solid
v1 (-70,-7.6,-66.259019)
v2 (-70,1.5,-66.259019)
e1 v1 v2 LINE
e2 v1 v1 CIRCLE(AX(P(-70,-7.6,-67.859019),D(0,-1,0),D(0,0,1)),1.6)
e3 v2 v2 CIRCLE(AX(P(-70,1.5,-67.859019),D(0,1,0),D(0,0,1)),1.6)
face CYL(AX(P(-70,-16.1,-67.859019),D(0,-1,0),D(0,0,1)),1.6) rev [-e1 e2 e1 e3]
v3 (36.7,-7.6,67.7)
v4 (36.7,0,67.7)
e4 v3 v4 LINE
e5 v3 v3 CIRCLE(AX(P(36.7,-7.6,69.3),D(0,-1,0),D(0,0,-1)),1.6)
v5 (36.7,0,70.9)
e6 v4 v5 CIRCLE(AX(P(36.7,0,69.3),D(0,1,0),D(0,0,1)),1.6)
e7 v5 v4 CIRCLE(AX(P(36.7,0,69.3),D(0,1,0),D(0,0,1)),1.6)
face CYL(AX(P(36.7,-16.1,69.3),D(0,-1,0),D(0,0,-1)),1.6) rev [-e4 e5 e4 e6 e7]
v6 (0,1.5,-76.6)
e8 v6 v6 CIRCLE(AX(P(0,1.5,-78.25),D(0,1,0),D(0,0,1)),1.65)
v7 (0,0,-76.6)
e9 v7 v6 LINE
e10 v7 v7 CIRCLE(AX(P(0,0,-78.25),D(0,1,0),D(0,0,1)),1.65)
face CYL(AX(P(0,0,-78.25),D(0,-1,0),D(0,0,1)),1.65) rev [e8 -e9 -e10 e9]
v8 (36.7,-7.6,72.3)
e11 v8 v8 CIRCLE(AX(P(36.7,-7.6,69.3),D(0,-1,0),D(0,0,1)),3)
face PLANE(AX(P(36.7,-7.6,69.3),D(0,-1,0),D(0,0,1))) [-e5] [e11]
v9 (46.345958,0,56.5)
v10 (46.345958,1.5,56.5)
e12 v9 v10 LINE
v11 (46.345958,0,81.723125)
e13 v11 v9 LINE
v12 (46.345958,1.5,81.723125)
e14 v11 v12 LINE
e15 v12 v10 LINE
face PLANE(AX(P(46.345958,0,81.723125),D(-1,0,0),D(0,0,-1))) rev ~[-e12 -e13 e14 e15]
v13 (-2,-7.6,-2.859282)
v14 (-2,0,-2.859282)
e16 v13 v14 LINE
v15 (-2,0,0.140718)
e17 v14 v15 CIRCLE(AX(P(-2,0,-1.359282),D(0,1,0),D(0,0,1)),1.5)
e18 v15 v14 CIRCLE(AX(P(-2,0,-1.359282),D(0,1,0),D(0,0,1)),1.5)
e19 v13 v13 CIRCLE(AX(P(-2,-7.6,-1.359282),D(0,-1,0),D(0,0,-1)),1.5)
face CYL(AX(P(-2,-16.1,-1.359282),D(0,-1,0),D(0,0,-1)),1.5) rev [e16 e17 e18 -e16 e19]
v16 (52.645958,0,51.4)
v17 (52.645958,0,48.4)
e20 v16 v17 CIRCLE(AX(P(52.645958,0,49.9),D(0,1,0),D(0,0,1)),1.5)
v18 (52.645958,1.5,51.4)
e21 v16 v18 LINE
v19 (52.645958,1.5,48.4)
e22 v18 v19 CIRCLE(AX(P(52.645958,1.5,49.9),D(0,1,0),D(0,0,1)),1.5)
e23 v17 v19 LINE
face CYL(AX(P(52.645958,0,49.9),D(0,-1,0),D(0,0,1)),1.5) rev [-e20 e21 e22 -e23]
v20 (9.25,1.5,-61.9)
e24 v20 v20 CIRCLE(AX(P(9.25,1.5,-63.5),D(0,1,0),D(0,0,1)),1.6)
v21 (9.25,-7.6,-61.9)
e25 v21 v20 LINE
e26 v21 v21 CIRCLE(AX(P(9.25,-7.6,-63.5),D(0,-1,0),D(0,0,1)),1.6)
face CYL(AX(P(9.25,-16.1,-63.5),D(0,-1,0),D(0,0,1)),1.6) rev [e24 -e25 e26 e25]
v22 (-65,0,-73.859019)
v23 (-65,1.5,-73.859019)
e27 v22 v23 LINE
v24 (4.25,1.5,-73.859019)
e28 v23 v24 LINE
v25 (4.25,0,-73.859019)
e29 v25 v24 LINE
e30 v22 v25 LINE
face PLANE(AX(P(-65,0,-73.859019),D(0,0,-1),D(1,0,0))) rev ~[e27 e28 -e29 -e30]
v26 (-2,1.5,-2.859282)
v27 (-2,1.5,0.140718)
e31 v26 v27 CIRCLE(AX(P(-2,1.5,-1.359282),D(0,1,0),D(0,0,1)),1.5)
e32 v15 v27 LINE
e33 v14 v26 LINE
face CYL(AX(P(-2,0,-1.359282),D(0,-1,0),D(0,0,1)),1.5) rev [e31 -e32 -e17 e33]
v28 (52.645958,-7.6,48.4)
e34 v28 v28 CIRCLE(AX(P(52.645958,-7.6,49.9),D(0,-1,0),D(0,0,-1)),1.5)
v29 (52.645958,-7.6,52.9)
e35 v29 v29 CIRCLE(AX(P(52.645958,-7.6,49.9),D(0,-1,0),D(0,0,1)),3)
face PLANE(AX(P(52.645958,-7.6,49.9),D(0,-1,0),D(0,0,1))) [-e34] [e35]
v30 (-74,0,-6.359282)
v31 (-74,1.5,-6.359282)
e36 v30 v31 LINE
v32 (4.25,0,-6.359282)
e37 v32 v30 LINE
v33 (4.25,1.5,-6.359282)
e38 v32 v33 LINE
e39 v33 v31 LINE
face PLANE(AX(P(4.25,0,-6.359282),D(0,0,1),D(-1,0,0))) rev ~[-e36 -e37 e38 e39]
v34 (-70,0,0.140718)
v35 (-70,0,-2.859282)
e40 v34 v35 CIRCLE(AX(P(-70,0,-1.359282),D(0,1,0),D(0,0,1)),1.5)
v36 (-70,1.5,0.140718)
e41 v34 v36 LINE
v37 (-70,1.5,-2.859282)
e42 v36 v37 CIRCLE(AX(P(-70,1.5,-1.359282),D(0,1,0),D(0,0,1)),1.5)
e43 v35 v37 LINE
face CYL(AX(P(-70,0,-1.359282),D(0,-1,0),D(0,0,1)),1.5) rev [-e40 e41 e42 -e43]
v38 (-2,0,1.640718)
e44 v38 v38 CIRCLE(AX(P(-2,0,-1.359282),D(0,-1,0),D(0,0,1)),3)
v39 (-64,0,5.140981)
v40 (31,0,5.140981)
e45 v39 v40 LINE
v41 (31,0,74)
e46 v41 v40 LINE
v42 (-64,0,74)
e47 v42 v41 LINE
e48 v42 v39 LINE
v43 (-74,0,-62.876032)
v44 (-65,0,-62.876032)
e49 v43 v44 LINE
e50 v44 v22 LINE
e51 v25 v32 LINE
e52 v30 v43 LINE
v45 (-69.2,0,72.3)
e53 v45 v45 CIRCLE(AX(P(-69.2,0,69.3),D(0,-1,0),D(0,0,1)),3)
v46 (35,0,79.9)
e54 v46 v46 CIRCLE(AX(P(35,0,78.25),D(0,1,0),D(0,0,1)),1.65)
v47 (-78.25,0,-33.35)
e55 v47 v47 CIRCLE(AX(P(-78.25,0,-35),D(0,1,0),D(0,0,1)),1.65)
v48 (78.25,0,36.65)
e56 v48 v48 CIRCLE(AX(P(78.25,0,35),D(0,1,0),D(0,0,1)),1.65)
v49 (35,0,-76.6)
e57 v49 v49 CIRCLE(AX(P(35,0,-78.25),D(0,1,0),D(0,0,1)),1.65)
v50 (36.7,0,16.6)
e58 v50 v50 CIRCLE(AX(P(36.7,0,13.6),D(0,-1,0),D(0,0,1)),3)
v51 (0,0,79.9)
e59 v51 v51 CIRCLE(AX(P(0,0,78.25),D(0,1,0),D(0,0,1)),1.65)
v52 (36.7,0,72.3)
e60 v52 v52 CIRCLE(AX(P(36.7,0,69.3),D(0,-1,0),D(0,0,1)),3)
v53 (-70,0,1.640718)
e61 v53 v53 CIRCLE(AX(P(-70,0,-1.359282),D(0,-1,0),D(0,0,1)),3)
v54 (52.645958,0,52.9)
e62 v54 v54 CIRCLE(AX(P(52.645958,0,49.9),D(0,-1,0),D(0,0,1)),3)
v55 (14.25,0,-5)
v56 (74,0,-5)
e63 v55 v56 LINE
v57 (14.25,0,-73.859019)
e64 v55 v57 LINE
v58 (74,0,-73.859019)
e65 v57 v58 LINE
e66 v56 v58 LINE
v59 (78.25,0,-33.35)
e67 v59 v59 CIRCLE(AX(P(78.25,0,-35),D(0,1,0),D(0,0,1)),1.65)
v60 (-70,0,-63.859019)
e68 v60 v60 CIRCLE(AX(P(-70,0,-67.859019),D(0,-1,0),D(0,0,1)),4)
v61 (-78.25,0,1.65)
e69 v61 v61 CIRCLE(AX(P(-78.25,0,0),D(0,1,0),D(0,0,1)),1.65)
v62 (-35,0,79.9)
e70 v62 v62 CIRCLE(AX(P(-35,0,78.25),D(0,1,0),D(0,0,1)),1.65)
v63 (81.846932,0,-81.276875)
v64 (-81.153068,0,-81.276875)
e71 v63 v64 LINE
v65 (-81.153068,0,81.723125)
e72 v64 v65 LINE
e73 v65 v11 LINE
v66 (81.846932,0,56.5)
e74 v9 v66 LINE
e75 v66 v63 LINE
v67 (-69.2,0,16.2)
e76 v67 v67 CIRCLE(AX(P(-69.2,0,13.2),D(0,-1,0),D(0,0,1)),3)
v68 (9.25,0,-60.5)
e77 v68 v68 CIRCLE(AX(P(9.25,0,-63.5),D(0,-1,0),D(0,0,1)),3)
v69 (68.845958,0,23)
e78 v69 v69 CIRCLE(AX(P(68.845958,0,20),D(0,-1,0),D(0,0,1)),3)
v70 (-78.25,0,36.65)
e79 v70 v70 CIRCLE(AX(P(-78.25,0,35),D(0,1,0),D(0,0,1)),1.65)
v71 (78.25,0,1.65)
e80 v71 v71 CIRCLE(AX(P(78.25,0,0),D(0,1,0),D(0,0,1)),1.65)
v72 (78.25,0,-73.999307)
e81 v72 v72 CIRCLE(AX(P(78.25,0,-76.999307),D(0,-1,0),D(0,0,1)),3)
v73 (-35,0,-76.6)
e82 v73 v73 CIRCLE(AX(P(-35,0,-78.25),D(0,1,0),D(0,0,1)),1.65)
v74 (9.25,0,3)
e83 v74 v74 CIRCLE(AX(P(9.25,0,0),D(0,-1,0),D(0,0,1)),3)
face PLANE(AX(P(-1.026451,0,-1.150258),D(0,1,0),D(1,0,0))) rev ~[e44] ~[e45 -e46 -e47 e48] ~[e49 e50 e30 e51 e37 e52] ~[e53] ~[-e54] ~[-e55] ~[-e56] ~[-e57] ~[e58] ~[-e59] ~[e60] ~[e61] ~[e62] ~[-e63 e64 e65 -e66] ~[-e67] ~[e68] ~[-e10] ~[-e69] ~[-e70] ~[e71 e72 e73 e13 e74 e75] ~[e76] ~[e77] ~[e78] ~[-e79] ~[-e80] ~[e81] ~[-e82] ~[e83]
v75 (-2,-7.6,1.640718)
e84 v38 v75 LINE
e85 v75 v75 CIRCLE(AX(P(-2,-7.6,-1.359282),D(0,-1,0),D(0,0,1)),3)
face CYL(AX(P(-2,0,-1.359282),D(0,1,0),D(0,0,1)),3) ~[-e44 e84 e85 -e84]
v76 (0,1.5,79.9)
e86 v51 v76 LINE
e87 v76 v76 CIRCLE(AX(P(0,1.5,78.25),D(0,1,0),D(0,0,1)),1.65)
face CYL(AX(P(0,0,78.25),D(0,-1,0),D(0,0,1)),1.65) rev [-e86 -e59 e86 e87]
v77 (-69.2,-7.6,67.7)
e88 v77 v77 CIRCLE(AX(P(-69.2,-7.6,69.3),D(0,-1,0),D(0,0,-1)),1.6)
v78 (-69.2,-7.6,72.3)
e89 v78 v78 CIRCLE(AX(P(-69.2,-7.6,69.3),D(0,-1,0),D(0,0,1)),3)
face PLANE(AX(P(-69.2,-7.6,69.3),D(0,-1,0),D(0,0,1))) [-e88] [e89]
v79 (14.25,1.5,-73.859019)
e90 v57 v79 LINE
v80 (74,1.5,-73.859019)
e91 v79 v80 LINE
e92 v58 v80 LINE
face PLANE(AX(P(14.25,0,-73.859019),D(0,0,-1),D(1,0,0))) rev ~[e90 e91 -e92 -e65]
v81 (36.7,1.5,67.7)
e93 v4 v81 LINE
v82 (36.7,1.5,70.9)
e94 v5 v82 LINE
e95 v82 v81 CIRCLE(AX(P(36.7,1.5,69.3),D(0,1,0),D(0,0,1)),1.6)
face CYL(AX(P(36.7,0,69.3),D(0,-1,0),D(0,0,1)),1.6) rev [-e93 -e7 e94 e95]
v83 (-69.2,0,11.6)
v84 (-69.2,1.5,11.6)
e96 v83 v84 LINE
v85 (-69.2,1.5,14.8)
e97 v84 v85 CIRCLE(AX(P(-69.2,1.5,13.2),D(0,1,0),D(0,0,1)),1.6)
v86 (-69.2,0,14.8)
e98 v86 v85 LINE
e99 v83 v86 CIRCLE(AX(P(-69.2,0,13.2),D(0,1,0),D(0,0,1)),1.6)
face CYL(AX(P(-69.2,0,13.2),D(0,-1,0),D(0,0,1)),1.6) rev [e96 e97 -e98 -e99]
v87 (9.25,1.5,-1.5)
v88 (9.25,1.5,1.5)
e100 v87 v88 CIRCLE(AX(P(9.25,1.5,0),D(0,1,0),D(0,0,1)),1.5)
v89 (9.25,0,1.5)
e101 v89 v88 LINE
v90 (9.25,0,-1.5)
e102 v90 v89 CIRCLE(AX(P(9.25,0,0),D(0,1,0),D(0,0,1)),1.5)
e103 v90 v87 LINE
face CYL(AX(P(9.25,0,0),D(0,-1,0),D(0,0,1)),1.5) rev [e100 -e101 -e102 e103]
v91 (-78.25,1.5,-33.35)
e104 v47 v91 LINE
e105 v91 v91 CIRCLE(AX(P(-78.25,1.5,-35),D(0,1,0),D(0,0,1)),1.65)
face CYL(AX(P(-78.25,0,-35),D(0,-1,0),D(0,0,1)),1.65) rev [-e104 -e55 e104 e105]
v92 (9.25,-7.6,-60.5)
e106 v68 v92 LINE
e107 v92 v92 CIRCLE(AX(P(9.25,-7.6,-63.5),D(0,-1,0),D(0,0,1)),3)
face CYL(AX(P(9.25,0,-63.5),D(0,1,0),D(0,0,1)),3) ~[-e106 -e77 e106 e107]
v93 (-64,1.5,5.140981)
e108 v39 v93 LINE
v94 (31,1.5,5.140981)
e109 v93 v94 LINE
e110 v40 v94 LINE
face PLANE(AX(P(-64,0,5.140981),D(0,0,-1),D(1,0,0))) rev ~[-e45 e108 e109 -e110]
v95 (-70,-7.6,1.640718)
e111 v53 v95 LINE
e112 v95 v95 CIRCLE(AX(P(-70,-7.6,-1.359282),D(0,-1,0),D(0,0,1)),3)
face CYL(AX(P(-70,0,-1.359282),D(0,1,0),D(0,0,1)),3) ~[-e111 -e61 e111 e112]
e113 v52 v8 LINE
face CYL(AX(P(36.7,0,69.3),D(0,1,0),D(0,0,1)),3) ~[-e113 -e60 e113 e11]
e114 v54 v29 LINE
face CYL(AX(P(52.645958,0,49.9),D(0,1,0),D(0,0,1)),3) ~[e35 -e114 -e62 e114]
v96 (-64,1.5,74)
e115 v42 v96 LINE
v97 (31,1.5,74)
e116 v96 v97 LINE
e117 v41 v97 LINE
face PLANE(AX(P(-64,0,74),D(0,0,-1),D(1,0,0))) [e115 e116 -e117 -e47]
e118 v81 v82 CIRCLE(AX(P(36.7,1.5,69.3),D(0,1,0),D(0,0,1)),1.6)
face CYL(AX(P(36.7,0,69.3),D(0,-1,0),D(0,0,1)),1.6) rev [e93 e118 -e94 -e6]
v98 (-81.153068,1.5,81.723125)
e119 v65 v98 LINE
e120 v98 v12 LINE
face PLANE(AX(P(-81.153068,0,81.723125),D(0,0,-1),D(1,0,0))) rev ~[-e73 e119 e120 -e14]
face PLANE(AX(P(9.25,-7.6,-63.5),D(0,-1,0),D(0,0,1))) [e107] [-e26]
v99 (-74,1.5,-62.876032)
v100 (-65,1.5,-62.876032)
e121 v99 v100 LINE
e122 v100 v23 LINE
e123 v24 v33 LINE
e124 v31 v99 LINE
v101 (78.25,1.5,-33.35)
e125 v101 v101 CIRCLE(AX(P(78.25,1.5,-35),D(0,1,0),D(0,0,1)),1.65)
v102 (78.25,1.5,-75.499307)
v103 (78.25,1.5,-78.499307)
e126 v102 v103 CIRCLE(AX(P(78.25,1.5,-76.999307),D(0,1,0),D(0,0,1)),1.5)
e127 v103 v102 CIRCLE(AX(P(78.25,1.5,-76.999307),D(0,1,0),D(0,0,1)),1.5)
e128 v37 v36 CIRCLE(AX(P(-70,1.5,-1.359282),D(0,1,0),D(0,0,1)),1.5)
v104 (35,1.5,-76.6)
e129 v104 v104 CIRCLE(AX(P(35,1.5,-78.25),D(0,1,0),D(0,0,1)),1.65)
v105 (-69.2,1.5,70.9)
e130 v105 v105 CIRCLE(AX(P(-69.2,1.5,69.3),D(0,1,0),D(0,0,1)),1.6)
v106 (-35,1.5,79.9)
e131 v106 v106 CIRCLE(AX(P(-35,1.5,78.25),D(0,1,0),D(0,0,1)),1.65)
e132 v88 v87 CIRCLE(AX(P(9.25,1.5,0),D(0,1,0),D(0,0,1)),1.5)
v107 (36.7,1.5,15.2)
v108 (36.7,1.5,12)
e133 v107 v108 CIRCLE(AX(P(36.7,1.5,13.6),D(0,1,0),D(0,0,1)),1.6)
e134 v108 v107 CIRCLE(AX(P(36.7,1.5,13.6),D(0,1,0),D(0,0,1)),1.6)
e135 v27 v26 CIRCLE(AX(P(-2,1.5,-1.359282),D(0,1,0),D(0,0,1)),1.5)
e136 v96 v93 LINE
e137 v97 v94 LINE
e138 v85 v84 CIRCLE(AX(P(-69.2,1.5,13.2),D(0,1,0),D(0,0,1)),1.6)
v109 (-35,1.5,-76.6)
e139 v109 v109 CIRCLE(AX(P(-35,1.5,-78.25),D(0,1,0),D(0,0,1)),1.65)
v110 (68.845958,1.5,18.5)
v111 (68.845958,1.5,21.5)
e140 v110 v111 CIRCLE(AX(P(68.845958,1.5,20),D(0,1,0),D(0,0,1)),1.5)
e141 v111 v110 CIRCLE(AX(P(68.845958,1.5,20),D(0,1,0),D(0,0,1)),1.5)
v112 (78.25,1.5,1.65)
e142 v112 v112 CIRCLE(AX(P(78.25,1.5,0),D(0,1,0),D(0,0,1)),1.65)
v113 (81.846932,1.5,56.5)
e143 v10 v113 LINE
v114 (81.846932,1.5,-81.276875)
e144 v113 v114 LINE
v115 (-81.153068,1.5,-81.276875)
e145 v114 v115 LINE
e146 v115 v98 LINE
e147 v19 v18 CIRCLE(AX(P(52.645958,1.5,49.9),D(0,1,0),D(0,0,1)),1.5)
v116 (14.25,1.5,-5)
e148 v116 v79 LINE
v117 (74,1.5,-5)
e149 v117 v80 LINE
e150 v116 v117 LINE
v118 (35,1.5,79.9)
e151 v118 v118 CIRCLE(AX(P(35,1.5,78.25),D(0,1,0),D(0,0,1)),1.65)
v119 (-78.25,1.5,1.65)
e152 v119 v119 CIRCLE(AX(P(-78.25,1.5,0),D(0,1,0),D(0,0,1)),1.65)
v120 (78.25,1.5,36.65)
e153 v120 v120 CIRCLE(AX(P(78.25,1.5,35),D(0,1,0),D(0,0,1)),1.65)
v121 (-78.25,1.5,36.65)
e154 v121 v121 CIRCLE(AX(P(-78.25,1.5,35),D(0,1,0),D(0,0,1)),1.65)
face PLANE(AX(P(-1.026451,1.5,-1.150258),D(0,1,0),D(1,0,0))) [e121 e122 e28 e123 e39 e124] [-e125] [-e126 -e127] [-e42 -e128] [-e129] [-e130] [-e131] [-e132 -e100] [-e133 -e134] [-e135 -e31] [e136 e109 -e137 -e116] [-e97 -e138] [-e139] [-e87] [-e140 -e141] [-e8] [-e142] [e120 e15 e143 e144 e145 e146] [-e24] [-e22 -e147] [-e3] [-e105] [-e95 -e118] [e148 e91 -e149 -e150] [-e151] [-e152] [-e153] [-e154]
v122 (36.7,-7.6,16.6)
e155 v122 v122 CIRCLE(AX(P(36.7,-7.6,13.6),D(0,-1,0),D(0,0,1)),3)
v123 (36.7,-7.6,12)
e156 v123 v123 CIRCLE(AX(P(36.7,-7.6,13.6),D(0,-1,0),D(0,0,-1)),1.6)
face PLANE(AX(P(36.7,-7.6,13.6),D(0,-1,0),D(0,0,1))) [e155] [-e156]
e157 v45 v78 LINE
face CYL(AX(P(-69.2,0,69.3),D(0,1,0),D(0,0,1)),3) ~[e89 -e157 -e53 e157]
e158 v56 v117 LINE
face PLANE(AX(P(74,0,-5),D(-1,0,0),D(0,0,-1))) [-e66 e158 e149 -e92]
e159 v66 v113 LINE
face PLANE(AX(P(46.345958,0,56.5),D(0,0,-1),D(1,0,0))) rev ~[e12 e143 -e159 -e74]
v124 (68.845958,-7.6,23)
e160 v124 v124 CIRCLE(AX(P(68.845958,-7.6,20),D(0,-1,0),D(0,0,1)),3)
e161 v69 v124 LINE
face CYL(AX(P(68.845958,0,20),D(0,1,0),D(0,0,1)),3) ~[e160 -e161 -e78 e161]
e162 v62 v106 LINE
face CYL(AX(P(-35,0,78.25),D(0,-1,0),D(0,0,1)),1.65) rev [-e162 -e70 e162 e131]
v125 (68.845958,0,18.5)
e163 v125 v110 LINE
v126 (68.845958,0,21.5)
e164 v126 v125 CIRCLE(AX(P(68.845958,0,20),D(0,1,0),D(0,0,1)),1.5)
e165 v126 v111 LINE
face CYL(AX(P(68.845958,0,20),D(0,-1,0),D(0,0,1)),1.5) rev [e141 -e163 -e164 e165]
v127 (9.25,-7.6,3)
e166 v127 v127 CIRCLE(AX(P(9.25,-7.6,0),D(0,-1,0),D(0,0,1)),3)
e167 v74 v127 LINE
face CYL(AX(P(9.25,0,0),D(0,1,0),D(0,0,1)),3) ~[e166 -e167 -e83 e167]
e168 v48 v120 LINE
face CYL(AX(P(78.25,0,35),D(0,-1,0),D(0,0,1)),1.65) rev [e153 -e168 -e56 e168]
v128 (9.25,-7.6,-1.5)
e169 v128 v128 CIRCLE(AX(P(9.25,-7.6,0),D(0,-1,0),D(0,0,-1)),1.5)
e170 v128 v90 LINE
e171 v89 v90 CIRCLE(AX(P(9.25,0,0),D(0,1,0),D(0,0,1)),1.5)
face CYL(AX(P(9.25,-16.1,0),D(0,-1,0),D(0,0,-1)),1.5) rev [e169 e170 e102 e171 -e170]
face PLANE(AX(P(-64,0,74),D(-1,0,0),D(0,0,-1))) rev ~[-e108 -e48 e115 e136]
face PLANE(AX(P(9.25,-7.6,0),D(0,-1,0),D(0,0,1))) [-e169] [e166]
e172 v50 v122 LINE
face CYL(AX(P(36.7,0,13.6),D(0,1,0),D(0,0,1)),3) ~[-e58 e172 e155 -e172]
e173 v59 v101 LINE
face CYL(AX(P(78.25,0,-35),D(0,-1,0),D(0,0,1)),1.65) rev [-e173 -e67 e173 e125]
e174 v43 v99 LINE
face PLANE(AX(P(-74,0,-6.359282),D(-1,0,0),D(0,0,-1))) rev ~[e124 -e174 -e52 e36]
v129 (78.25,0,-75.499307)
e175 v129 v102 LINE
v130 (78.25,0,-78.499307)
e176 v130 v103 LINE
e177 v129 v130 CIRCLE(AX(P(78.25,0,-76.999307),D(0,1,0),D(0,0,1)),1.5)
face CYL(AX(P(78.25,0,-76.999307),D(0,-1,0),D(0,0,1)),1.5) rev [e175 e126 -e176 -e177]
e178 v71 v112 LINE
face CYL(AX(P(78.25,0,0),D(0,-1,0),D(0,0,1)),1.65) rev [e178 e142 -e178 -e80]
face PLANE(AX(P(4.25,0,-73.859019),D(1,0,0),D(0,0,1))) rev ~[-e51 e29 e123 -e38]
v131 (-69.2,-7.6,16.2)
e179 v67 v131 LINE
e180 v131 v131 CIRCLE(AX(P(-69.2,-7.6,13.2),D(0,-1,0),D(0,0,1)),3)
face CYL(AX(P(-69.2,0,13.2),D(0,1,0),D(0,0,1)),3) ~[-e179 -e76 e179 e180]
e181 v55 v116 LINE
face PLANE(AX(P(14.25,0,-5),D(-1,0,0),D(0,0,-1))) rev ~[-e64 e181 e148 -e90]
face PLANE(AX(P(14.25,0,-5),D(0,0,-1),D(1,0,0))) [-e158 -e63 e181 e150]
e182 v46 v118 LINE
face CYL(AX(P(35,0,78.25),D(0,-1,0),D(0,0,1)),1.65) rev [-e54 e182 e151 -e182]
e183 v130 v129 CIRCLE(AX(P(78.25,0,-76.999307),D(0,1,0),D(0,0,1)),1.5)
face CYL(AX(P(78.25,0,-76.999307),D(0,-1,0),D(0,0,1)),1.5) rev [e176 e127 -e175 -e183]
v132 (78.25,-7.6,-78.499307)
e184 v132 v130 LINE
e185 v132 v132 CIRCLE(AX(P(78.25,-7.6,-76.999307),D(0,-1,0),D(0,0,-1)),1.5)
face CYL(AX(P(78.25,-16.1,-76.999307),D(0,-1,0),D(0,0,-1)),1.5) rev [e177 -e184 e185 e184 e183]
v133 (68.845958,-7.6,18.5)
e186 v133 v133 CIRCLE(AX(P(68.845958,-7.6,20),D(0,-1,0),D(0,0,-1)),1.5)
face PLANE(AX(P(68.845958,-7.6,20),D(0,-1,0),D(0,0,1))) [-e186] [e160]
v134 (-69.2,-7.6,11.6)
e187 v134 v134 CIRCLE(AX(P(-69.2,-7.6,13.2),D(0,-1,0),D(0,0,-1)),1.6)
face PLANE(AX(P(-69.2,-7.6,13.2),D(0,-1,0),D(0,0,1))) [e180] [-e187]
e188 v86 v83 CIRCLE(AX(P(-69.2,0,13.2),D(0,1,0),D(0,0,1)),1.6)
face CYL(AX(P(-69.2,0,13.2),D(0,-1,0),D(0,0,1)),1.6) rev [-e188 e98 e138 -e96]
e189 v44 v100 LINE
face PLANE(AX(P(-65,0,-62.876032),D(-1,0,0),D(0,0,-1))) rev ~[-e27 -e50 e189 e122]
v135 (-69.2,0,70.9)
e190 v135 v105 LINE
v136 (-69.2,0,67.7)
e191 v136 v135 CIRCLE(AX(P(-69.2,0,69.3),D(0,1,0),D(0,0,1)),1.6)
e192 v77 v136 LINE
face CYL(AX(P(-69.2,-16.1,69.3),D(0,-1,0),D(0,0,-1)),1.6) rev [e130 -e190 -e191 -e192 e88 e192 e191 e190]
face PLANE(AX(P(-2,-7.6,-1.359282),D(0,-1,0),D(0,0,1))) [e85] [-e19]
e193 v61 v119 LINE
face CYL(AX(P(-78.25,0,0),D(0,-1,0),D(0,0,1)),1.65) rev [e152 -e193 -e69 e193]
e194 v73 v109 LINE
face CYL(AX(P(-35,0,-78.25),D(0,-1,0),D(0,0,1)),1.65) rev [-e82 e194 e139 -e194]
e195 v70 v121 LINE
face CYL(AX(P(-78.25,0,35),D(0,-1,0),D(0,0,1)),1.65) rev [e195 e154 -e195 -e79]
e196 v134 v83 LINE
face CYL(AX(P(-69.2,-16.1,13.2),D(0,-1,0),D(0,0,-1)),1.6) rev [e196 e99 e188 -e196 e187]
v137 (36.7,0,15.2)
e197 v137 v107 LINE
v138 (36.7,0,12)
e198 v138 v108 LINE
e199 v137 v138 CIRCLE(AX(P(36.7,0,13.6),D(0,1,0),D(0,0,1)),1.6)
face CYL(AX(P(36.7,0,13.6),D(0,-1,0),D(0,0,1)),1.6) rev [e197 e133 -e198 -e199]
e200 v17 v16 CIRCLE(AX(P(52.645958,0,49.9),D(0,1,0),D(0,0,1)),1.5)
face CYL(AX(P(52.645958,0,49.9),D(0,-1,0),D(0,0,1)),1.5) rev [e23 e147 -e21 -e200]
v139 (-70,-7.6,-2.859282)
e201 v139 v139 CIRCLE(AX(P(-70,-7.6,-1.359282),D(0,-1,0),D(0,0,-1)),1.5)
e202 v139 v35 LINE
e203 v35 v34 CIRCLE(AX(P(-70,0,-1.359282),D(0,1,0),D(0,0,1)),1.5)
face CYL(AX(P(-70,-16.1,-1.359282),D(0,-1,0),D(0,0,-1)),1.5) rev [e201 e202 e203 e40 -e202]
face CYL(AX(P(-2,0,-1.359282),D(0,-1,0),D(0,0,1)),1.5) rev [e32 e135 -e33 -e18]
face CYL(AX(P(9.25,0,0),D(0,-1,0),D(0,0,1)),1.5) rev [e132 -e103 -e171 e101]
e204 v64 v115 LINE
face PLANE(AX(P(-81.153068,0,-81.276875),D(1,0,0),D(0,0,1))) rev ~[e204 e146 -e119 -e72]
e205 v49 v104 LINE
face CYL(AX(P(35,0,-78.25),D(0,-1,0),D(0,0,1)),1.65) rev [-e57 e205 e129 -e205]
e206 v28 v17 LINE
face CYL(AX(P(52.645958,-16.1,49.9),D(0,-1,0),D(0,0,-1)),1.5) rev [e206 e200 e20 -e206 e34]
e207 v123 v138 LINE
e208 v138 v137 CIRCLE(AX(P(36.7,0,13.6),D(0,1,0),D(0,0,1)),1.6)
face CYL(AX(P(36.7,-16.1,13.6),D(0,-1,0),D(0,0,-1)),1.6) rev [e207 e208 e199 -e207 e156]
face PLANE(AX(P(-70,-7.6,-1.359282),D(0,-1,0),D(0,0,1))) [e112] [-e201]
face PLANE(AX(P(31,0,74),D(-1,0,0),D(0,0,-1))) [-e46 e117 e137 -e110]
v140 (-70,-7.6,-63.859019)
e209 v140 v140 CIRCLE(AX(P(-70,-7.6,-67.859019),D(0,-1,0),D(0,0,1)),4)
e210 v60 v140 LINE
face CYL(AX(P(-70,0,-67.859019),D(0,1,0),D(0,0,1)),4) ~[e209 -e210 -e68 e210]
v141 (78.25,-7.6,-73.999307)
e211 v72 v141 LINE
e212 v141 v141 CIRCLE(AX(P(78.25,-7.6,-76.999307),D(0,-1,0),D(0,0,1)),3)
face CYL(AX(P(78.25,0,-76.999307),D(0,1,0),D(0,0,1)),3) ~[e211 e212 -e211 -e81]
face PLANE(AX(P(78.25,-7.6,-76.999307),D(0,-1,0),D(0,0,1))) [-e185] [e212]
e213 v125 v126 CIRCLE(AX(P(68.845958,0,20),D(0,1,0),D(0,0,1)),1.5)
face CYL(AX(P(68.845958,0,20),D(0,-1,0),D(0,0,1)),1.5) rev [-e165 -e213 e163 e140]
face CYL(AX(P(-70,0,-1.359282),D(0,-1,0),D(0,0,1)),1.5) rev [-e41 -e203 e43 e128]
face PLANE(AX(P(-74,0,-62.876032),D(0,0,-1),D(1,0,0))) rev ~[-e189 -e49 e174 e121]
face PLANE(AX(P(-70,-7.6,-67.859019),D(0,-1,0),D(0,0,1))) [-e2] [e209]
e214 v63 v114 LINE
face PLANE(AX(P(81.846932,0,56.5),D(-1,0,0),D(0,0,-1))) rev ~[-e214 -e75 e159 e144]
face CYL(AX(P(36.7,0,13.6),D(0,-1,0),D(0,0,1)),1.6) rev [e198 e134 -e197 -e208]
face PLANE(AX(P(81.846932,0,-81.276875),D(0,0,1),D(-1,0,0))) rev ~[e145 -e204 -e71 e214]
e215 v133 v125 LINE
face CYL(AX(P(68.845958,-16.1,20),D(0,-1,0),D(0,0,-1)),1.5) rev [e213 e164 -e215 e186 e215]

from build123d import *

# Parameters (mm, degrees)
CROQUIS1_R              = 1.6
CROQUIS1_R_2            = 1.65
CROQUIS1_W              = 95
CROQUIS1_H              = 68.859019413
CROQUIS1_R_3            = 1.5
CROQUIS1_W_2            = 59.75
SALIENTE_EXTRUIR2_DEPTH = 1.5
CROQUIS4_R              = 3
CROQUIS4_R_2            = 4
SALIENTE_EXTRUIR3_DEPTH = 7.6
CORTAR_EXTRUIR2_START   = -17.6
CROQUIS5_R              = 1.6
CROQUIS5_R_2            = 1.5
CORTAR_EXTRUIR2_DEPTH   = 17.6


with BuildPart() as part:
    # Croquis1 → Saliente-Extruir2 (new body)
    with BuildSketch(Plane(origin=(0, 0, 0), x_dir=(1, 0, 0), z_dir=(0, 1, 0))):
        Polygon((-81.153068025, 81.276875237), (-81.153068025, -81.723124763), (46.345958321, -81.723124763), (46.345958321, -56.5), (81.846931975, -56.5), (81.846931975, 81.276875237), align=None)
        with Locations(Location((-69.2, -69.3, 0), (0, 0, 270))):
            Circle(CROQUIS1_R, mode=Mode.SUBTRACT)
        with Locations(Location((-35, -78.25, 0), (0, 0, 270))):
            Circle(CROQUIS1_R_2, mode=Mode.SUBTRACT)
        with Locations(Location((0, -78.25, 0), (0, 0, 270))):
            Circle(CROQUIS1_R_2, mode=Mode.SUBTRACT)
        with Locations(Location((-78.25, -35, 0), (0, 0, 270))):
            Circle(CROQUIS1_R_2, mode=Mode.SUBTRACT)
        with Locations(Location((-69.2, -13.2, 0), (0, 0, 270))):
            Circle(CROQUIS1_R, mode=Mode.SUBTRACT)
        with Locations((-16.5, -39.570490294)):
            Rectangle(CROQUIS1_W, CROQUIS1_H, mode=Mode.SUBTRACT)
        with Locations(Location((35, -78.25, 0), (0, 0, 270))):
            Circle(CROQUIS1_R_2, mode=Mode.SUBTRACT)
        with Locations(Location((36.7, -69.3, 0), (0, 0, 270))):
            Circle(CROQUIS1_R, mode=Mode.SUBTRACT)
        with Locations(Location((52.645958321, -49.9, 0), (0, 0, 270))):
            Circle(CROQUIS1_R_3, mode=Mode.SUBTRACT)
        with Locations(Location((36.7, -13.6, 0), (0, 0, 270))):
            Circle(CROQUIS1_R, mode=Mode.SUBTRACT)
        with Locations(Location((78.25, -35, 0), (0, 0, 270))):
            Circle(CROQUIS1_R_2, mode=Mode.SUBTRACT)
        with Locations(Location((68.845958321, -20, 0), (0, 0, 270))):
            Circle(CROQUIS1_R_3, mode=Mode.SUBTRACT)
        with Locations(Location((-78.25, 0, 0), (0, 0, 270))):
            Circle(CROQUIS1_R_2, mode=Mode.SUBTRACT)
        with Locations(Location((-70, 1.359281772, 0), (0, 0, 270))):
            Circle(CROQUIS1_R_3, mode=Mode.SUBTRACT)
        with Locations(Location((-78.25, 35, 0), (0, 0, 270))):
            Circle(CROQUIS1_R_2, mode=Mode.SUBTRACT)
        with Locations(Location((-2, 1.359281772, 0), (0, 0, 270))):
            Circle(CROQUIS1_R_3, mode=Mode.SUBTRACT)
        Polygon((-74, 62.876032496), (-65, 62.876032496), (-65, 73.859019413), (4.25, 73.859019413), (4.25, 6.359281772), (-65, 6.359281772), (-74, 6.359281772), align=None, mode=Mode.SUBTRACT)
        with Locations(Location((-70, 67.859019413, 0), (0, 0, 270))):
            Circle(CROQUIS1_R_3, mode=Mode.SUBTRACT)
        with Locations(Location((-35, 78.25, 0), (0, 0, 270))):
            Circle(CROQUIS1_R_2, mode=Mode.SUBTRACT)
        with Locations(Location((0, 78.25, 0), (0, 0, 270))):
            Circle(CROQUIS1_R_2, mode=Mode.SUBTRACT)
        with Locations(Location((9.25, 0, 0), (0, 0, 270))):
            Circle(CROQUIS1_R_3, mode=Mode.SUBTRACT)
        with Locations(Location((78.25, 0, 0), (0, 0, 270))):
            Circle(CROQUIS1_R_2, mode=Mode.SUBTRACT)
        with Locations((44.125, 39.429509706)):
            Rectangle(CROQUIS1_W_2, CROQUIS1_H, mode=Mode.SUBTRACT)
        with Locations(Location((78.25, 35, 0), (0, 0, 270))):
            Circle(CROQUIS1_R_2, mode=Mode.SUBTRACT)
        with Locations(Location((9.25, 63.5, 0), (0, 0, 270))):
            Circle(CROQUIS1_R_3, mode=Mode.SUBTRACT)
        with Locations(Location((35, 78.25, 0), (0, 0, 270))):
            Circle(CROQUIS1_R_2, mode=Mode.SUBTRACT)
        with Locations(Location((78.25, 76.999306834, 0), (0, 0, 270))):
            Circle(CROQUIS1_R_3, mode=Mode.SUBTRACT)
    extrude(amount=SALIENTE_EXTRUIR2_DEPTH)

    # Croquis4 → Saliente-Extruir3 (add)
    with BuildSketch(Plane.XZ):
        with Locations(Location((-69.2, 69.3, 0), (0, 0, 90))):
            Circle(CROQUIS4_R)
        with Locations(Location((-69.2, 13.2, 0), (0, 0, 90))):
            Circle(CROQUIS4_R)
        with Locations(Location((36.7, 13.6, 0), (0, 0, 90))):
            Circle(CROQUIS4_R)
        with Locations(Location((52.645958321, 49.9, 0), (0, 0, 90))):
            Circle(CROQUIS4_R)
        with Locations(Location((68.845958321, 20, 0), (0, 0, 90))):
            Circle(CROQUIS4_R)
        with Locations(Location((9.25, 0, 0), (0, 0, 90))):
            Circle(CROQUIS4_R)
        with Locations(Location((-2, -1.359281772, 0), (0, 0, 90))):
            Circle(CROQUIS4_R)
        with Locations(Location((-70, -1.359281772, 0), (0, 0, 90))):
            Circle(CROQUIS4_R)
        with Locations(Location((-70, -67.859019413, 0), (0, 0, 90))):
            Circle(CROQUIS4_R_2)
        with Locations(Location((9.25, -63.5, 0), (0, 0, 90))):
            Circle(CROQUIS4_R)
        with Locations(Location((78.25, -76.999306834, 0), (0, 0, 90))):
            Circle(CROQUIS4_R)
        with Locations(Location((36.7, 69.3, 0), (0, 0, 90))):
            Circle(CROQUIS4_R)
    extrude(amount=SALIENTE_EXTRUIR3_DEPTH)

    # Croquis5 → Cortar-Extruir2 (cut)
    with BuildSketch(Plane(origin=(0, 1.5, 0), x_dir=(1, 0, 0), z_dir=(0, 1, 0)).offset(CORTAR_EXTRUIR2_START)):
        with Locations(Location((-69.2, -13.2, 0), (0, 0, 90))):
            Circle(CROQUIS5_R)
        with Locations(Location((-70, 1.359281772, 0), (0, 0, 90))):
            Circle(CROQUIS5_R_2)
        with Locations(Location((-2, 1.359281772, 0), (0, 0, 90))):
            Circle(CROQUIS5_R_2)
        with Locations(Location((9.25, 0, 0), (0, 0, 90))):
            Circle(CROQUIS5_R_2)
        with Locations(Location((36.7, -13.6, 0), (0, 0, 90))):
            Circle(CROQUIS5_R)
        with Locations(Location((36.7, -69.3, 0), (0, 0, 90))):
            Circle(CROQUIS5_R)
        with Locations(Location((52.645958321, -49.9, 0), (0, 0, 90))):
            Circle(CROQUIS5_R_2)
        with Locations(Location((68.845958321, -20, 0), (0, 0, 90))):
            Circle(CROQUIS5_R_2)
        with Locations(Location((9.25, 63.5, 0), (0, 0, 270))):
            Circle(CROQUIS5_R)
        with Locations(Location((-70, 67.859019413, 0), (0, 0, 270))):
            Circle(CROQUIS5_R)
        with Locations(Location((-69.2, -69.3, 0), (0, 0, 90))):
            Circle(CROQUIS5_R)
        with Locations(Location((78.25, 76.999306834, 0), (0, 0, 90))):
            Circle(CROQUIS5_R_2)
    extrude(amount=CORTAR_EXTRUIR2_DEPTH, mode=Mode.SUBTRACT)


solid = part.part
